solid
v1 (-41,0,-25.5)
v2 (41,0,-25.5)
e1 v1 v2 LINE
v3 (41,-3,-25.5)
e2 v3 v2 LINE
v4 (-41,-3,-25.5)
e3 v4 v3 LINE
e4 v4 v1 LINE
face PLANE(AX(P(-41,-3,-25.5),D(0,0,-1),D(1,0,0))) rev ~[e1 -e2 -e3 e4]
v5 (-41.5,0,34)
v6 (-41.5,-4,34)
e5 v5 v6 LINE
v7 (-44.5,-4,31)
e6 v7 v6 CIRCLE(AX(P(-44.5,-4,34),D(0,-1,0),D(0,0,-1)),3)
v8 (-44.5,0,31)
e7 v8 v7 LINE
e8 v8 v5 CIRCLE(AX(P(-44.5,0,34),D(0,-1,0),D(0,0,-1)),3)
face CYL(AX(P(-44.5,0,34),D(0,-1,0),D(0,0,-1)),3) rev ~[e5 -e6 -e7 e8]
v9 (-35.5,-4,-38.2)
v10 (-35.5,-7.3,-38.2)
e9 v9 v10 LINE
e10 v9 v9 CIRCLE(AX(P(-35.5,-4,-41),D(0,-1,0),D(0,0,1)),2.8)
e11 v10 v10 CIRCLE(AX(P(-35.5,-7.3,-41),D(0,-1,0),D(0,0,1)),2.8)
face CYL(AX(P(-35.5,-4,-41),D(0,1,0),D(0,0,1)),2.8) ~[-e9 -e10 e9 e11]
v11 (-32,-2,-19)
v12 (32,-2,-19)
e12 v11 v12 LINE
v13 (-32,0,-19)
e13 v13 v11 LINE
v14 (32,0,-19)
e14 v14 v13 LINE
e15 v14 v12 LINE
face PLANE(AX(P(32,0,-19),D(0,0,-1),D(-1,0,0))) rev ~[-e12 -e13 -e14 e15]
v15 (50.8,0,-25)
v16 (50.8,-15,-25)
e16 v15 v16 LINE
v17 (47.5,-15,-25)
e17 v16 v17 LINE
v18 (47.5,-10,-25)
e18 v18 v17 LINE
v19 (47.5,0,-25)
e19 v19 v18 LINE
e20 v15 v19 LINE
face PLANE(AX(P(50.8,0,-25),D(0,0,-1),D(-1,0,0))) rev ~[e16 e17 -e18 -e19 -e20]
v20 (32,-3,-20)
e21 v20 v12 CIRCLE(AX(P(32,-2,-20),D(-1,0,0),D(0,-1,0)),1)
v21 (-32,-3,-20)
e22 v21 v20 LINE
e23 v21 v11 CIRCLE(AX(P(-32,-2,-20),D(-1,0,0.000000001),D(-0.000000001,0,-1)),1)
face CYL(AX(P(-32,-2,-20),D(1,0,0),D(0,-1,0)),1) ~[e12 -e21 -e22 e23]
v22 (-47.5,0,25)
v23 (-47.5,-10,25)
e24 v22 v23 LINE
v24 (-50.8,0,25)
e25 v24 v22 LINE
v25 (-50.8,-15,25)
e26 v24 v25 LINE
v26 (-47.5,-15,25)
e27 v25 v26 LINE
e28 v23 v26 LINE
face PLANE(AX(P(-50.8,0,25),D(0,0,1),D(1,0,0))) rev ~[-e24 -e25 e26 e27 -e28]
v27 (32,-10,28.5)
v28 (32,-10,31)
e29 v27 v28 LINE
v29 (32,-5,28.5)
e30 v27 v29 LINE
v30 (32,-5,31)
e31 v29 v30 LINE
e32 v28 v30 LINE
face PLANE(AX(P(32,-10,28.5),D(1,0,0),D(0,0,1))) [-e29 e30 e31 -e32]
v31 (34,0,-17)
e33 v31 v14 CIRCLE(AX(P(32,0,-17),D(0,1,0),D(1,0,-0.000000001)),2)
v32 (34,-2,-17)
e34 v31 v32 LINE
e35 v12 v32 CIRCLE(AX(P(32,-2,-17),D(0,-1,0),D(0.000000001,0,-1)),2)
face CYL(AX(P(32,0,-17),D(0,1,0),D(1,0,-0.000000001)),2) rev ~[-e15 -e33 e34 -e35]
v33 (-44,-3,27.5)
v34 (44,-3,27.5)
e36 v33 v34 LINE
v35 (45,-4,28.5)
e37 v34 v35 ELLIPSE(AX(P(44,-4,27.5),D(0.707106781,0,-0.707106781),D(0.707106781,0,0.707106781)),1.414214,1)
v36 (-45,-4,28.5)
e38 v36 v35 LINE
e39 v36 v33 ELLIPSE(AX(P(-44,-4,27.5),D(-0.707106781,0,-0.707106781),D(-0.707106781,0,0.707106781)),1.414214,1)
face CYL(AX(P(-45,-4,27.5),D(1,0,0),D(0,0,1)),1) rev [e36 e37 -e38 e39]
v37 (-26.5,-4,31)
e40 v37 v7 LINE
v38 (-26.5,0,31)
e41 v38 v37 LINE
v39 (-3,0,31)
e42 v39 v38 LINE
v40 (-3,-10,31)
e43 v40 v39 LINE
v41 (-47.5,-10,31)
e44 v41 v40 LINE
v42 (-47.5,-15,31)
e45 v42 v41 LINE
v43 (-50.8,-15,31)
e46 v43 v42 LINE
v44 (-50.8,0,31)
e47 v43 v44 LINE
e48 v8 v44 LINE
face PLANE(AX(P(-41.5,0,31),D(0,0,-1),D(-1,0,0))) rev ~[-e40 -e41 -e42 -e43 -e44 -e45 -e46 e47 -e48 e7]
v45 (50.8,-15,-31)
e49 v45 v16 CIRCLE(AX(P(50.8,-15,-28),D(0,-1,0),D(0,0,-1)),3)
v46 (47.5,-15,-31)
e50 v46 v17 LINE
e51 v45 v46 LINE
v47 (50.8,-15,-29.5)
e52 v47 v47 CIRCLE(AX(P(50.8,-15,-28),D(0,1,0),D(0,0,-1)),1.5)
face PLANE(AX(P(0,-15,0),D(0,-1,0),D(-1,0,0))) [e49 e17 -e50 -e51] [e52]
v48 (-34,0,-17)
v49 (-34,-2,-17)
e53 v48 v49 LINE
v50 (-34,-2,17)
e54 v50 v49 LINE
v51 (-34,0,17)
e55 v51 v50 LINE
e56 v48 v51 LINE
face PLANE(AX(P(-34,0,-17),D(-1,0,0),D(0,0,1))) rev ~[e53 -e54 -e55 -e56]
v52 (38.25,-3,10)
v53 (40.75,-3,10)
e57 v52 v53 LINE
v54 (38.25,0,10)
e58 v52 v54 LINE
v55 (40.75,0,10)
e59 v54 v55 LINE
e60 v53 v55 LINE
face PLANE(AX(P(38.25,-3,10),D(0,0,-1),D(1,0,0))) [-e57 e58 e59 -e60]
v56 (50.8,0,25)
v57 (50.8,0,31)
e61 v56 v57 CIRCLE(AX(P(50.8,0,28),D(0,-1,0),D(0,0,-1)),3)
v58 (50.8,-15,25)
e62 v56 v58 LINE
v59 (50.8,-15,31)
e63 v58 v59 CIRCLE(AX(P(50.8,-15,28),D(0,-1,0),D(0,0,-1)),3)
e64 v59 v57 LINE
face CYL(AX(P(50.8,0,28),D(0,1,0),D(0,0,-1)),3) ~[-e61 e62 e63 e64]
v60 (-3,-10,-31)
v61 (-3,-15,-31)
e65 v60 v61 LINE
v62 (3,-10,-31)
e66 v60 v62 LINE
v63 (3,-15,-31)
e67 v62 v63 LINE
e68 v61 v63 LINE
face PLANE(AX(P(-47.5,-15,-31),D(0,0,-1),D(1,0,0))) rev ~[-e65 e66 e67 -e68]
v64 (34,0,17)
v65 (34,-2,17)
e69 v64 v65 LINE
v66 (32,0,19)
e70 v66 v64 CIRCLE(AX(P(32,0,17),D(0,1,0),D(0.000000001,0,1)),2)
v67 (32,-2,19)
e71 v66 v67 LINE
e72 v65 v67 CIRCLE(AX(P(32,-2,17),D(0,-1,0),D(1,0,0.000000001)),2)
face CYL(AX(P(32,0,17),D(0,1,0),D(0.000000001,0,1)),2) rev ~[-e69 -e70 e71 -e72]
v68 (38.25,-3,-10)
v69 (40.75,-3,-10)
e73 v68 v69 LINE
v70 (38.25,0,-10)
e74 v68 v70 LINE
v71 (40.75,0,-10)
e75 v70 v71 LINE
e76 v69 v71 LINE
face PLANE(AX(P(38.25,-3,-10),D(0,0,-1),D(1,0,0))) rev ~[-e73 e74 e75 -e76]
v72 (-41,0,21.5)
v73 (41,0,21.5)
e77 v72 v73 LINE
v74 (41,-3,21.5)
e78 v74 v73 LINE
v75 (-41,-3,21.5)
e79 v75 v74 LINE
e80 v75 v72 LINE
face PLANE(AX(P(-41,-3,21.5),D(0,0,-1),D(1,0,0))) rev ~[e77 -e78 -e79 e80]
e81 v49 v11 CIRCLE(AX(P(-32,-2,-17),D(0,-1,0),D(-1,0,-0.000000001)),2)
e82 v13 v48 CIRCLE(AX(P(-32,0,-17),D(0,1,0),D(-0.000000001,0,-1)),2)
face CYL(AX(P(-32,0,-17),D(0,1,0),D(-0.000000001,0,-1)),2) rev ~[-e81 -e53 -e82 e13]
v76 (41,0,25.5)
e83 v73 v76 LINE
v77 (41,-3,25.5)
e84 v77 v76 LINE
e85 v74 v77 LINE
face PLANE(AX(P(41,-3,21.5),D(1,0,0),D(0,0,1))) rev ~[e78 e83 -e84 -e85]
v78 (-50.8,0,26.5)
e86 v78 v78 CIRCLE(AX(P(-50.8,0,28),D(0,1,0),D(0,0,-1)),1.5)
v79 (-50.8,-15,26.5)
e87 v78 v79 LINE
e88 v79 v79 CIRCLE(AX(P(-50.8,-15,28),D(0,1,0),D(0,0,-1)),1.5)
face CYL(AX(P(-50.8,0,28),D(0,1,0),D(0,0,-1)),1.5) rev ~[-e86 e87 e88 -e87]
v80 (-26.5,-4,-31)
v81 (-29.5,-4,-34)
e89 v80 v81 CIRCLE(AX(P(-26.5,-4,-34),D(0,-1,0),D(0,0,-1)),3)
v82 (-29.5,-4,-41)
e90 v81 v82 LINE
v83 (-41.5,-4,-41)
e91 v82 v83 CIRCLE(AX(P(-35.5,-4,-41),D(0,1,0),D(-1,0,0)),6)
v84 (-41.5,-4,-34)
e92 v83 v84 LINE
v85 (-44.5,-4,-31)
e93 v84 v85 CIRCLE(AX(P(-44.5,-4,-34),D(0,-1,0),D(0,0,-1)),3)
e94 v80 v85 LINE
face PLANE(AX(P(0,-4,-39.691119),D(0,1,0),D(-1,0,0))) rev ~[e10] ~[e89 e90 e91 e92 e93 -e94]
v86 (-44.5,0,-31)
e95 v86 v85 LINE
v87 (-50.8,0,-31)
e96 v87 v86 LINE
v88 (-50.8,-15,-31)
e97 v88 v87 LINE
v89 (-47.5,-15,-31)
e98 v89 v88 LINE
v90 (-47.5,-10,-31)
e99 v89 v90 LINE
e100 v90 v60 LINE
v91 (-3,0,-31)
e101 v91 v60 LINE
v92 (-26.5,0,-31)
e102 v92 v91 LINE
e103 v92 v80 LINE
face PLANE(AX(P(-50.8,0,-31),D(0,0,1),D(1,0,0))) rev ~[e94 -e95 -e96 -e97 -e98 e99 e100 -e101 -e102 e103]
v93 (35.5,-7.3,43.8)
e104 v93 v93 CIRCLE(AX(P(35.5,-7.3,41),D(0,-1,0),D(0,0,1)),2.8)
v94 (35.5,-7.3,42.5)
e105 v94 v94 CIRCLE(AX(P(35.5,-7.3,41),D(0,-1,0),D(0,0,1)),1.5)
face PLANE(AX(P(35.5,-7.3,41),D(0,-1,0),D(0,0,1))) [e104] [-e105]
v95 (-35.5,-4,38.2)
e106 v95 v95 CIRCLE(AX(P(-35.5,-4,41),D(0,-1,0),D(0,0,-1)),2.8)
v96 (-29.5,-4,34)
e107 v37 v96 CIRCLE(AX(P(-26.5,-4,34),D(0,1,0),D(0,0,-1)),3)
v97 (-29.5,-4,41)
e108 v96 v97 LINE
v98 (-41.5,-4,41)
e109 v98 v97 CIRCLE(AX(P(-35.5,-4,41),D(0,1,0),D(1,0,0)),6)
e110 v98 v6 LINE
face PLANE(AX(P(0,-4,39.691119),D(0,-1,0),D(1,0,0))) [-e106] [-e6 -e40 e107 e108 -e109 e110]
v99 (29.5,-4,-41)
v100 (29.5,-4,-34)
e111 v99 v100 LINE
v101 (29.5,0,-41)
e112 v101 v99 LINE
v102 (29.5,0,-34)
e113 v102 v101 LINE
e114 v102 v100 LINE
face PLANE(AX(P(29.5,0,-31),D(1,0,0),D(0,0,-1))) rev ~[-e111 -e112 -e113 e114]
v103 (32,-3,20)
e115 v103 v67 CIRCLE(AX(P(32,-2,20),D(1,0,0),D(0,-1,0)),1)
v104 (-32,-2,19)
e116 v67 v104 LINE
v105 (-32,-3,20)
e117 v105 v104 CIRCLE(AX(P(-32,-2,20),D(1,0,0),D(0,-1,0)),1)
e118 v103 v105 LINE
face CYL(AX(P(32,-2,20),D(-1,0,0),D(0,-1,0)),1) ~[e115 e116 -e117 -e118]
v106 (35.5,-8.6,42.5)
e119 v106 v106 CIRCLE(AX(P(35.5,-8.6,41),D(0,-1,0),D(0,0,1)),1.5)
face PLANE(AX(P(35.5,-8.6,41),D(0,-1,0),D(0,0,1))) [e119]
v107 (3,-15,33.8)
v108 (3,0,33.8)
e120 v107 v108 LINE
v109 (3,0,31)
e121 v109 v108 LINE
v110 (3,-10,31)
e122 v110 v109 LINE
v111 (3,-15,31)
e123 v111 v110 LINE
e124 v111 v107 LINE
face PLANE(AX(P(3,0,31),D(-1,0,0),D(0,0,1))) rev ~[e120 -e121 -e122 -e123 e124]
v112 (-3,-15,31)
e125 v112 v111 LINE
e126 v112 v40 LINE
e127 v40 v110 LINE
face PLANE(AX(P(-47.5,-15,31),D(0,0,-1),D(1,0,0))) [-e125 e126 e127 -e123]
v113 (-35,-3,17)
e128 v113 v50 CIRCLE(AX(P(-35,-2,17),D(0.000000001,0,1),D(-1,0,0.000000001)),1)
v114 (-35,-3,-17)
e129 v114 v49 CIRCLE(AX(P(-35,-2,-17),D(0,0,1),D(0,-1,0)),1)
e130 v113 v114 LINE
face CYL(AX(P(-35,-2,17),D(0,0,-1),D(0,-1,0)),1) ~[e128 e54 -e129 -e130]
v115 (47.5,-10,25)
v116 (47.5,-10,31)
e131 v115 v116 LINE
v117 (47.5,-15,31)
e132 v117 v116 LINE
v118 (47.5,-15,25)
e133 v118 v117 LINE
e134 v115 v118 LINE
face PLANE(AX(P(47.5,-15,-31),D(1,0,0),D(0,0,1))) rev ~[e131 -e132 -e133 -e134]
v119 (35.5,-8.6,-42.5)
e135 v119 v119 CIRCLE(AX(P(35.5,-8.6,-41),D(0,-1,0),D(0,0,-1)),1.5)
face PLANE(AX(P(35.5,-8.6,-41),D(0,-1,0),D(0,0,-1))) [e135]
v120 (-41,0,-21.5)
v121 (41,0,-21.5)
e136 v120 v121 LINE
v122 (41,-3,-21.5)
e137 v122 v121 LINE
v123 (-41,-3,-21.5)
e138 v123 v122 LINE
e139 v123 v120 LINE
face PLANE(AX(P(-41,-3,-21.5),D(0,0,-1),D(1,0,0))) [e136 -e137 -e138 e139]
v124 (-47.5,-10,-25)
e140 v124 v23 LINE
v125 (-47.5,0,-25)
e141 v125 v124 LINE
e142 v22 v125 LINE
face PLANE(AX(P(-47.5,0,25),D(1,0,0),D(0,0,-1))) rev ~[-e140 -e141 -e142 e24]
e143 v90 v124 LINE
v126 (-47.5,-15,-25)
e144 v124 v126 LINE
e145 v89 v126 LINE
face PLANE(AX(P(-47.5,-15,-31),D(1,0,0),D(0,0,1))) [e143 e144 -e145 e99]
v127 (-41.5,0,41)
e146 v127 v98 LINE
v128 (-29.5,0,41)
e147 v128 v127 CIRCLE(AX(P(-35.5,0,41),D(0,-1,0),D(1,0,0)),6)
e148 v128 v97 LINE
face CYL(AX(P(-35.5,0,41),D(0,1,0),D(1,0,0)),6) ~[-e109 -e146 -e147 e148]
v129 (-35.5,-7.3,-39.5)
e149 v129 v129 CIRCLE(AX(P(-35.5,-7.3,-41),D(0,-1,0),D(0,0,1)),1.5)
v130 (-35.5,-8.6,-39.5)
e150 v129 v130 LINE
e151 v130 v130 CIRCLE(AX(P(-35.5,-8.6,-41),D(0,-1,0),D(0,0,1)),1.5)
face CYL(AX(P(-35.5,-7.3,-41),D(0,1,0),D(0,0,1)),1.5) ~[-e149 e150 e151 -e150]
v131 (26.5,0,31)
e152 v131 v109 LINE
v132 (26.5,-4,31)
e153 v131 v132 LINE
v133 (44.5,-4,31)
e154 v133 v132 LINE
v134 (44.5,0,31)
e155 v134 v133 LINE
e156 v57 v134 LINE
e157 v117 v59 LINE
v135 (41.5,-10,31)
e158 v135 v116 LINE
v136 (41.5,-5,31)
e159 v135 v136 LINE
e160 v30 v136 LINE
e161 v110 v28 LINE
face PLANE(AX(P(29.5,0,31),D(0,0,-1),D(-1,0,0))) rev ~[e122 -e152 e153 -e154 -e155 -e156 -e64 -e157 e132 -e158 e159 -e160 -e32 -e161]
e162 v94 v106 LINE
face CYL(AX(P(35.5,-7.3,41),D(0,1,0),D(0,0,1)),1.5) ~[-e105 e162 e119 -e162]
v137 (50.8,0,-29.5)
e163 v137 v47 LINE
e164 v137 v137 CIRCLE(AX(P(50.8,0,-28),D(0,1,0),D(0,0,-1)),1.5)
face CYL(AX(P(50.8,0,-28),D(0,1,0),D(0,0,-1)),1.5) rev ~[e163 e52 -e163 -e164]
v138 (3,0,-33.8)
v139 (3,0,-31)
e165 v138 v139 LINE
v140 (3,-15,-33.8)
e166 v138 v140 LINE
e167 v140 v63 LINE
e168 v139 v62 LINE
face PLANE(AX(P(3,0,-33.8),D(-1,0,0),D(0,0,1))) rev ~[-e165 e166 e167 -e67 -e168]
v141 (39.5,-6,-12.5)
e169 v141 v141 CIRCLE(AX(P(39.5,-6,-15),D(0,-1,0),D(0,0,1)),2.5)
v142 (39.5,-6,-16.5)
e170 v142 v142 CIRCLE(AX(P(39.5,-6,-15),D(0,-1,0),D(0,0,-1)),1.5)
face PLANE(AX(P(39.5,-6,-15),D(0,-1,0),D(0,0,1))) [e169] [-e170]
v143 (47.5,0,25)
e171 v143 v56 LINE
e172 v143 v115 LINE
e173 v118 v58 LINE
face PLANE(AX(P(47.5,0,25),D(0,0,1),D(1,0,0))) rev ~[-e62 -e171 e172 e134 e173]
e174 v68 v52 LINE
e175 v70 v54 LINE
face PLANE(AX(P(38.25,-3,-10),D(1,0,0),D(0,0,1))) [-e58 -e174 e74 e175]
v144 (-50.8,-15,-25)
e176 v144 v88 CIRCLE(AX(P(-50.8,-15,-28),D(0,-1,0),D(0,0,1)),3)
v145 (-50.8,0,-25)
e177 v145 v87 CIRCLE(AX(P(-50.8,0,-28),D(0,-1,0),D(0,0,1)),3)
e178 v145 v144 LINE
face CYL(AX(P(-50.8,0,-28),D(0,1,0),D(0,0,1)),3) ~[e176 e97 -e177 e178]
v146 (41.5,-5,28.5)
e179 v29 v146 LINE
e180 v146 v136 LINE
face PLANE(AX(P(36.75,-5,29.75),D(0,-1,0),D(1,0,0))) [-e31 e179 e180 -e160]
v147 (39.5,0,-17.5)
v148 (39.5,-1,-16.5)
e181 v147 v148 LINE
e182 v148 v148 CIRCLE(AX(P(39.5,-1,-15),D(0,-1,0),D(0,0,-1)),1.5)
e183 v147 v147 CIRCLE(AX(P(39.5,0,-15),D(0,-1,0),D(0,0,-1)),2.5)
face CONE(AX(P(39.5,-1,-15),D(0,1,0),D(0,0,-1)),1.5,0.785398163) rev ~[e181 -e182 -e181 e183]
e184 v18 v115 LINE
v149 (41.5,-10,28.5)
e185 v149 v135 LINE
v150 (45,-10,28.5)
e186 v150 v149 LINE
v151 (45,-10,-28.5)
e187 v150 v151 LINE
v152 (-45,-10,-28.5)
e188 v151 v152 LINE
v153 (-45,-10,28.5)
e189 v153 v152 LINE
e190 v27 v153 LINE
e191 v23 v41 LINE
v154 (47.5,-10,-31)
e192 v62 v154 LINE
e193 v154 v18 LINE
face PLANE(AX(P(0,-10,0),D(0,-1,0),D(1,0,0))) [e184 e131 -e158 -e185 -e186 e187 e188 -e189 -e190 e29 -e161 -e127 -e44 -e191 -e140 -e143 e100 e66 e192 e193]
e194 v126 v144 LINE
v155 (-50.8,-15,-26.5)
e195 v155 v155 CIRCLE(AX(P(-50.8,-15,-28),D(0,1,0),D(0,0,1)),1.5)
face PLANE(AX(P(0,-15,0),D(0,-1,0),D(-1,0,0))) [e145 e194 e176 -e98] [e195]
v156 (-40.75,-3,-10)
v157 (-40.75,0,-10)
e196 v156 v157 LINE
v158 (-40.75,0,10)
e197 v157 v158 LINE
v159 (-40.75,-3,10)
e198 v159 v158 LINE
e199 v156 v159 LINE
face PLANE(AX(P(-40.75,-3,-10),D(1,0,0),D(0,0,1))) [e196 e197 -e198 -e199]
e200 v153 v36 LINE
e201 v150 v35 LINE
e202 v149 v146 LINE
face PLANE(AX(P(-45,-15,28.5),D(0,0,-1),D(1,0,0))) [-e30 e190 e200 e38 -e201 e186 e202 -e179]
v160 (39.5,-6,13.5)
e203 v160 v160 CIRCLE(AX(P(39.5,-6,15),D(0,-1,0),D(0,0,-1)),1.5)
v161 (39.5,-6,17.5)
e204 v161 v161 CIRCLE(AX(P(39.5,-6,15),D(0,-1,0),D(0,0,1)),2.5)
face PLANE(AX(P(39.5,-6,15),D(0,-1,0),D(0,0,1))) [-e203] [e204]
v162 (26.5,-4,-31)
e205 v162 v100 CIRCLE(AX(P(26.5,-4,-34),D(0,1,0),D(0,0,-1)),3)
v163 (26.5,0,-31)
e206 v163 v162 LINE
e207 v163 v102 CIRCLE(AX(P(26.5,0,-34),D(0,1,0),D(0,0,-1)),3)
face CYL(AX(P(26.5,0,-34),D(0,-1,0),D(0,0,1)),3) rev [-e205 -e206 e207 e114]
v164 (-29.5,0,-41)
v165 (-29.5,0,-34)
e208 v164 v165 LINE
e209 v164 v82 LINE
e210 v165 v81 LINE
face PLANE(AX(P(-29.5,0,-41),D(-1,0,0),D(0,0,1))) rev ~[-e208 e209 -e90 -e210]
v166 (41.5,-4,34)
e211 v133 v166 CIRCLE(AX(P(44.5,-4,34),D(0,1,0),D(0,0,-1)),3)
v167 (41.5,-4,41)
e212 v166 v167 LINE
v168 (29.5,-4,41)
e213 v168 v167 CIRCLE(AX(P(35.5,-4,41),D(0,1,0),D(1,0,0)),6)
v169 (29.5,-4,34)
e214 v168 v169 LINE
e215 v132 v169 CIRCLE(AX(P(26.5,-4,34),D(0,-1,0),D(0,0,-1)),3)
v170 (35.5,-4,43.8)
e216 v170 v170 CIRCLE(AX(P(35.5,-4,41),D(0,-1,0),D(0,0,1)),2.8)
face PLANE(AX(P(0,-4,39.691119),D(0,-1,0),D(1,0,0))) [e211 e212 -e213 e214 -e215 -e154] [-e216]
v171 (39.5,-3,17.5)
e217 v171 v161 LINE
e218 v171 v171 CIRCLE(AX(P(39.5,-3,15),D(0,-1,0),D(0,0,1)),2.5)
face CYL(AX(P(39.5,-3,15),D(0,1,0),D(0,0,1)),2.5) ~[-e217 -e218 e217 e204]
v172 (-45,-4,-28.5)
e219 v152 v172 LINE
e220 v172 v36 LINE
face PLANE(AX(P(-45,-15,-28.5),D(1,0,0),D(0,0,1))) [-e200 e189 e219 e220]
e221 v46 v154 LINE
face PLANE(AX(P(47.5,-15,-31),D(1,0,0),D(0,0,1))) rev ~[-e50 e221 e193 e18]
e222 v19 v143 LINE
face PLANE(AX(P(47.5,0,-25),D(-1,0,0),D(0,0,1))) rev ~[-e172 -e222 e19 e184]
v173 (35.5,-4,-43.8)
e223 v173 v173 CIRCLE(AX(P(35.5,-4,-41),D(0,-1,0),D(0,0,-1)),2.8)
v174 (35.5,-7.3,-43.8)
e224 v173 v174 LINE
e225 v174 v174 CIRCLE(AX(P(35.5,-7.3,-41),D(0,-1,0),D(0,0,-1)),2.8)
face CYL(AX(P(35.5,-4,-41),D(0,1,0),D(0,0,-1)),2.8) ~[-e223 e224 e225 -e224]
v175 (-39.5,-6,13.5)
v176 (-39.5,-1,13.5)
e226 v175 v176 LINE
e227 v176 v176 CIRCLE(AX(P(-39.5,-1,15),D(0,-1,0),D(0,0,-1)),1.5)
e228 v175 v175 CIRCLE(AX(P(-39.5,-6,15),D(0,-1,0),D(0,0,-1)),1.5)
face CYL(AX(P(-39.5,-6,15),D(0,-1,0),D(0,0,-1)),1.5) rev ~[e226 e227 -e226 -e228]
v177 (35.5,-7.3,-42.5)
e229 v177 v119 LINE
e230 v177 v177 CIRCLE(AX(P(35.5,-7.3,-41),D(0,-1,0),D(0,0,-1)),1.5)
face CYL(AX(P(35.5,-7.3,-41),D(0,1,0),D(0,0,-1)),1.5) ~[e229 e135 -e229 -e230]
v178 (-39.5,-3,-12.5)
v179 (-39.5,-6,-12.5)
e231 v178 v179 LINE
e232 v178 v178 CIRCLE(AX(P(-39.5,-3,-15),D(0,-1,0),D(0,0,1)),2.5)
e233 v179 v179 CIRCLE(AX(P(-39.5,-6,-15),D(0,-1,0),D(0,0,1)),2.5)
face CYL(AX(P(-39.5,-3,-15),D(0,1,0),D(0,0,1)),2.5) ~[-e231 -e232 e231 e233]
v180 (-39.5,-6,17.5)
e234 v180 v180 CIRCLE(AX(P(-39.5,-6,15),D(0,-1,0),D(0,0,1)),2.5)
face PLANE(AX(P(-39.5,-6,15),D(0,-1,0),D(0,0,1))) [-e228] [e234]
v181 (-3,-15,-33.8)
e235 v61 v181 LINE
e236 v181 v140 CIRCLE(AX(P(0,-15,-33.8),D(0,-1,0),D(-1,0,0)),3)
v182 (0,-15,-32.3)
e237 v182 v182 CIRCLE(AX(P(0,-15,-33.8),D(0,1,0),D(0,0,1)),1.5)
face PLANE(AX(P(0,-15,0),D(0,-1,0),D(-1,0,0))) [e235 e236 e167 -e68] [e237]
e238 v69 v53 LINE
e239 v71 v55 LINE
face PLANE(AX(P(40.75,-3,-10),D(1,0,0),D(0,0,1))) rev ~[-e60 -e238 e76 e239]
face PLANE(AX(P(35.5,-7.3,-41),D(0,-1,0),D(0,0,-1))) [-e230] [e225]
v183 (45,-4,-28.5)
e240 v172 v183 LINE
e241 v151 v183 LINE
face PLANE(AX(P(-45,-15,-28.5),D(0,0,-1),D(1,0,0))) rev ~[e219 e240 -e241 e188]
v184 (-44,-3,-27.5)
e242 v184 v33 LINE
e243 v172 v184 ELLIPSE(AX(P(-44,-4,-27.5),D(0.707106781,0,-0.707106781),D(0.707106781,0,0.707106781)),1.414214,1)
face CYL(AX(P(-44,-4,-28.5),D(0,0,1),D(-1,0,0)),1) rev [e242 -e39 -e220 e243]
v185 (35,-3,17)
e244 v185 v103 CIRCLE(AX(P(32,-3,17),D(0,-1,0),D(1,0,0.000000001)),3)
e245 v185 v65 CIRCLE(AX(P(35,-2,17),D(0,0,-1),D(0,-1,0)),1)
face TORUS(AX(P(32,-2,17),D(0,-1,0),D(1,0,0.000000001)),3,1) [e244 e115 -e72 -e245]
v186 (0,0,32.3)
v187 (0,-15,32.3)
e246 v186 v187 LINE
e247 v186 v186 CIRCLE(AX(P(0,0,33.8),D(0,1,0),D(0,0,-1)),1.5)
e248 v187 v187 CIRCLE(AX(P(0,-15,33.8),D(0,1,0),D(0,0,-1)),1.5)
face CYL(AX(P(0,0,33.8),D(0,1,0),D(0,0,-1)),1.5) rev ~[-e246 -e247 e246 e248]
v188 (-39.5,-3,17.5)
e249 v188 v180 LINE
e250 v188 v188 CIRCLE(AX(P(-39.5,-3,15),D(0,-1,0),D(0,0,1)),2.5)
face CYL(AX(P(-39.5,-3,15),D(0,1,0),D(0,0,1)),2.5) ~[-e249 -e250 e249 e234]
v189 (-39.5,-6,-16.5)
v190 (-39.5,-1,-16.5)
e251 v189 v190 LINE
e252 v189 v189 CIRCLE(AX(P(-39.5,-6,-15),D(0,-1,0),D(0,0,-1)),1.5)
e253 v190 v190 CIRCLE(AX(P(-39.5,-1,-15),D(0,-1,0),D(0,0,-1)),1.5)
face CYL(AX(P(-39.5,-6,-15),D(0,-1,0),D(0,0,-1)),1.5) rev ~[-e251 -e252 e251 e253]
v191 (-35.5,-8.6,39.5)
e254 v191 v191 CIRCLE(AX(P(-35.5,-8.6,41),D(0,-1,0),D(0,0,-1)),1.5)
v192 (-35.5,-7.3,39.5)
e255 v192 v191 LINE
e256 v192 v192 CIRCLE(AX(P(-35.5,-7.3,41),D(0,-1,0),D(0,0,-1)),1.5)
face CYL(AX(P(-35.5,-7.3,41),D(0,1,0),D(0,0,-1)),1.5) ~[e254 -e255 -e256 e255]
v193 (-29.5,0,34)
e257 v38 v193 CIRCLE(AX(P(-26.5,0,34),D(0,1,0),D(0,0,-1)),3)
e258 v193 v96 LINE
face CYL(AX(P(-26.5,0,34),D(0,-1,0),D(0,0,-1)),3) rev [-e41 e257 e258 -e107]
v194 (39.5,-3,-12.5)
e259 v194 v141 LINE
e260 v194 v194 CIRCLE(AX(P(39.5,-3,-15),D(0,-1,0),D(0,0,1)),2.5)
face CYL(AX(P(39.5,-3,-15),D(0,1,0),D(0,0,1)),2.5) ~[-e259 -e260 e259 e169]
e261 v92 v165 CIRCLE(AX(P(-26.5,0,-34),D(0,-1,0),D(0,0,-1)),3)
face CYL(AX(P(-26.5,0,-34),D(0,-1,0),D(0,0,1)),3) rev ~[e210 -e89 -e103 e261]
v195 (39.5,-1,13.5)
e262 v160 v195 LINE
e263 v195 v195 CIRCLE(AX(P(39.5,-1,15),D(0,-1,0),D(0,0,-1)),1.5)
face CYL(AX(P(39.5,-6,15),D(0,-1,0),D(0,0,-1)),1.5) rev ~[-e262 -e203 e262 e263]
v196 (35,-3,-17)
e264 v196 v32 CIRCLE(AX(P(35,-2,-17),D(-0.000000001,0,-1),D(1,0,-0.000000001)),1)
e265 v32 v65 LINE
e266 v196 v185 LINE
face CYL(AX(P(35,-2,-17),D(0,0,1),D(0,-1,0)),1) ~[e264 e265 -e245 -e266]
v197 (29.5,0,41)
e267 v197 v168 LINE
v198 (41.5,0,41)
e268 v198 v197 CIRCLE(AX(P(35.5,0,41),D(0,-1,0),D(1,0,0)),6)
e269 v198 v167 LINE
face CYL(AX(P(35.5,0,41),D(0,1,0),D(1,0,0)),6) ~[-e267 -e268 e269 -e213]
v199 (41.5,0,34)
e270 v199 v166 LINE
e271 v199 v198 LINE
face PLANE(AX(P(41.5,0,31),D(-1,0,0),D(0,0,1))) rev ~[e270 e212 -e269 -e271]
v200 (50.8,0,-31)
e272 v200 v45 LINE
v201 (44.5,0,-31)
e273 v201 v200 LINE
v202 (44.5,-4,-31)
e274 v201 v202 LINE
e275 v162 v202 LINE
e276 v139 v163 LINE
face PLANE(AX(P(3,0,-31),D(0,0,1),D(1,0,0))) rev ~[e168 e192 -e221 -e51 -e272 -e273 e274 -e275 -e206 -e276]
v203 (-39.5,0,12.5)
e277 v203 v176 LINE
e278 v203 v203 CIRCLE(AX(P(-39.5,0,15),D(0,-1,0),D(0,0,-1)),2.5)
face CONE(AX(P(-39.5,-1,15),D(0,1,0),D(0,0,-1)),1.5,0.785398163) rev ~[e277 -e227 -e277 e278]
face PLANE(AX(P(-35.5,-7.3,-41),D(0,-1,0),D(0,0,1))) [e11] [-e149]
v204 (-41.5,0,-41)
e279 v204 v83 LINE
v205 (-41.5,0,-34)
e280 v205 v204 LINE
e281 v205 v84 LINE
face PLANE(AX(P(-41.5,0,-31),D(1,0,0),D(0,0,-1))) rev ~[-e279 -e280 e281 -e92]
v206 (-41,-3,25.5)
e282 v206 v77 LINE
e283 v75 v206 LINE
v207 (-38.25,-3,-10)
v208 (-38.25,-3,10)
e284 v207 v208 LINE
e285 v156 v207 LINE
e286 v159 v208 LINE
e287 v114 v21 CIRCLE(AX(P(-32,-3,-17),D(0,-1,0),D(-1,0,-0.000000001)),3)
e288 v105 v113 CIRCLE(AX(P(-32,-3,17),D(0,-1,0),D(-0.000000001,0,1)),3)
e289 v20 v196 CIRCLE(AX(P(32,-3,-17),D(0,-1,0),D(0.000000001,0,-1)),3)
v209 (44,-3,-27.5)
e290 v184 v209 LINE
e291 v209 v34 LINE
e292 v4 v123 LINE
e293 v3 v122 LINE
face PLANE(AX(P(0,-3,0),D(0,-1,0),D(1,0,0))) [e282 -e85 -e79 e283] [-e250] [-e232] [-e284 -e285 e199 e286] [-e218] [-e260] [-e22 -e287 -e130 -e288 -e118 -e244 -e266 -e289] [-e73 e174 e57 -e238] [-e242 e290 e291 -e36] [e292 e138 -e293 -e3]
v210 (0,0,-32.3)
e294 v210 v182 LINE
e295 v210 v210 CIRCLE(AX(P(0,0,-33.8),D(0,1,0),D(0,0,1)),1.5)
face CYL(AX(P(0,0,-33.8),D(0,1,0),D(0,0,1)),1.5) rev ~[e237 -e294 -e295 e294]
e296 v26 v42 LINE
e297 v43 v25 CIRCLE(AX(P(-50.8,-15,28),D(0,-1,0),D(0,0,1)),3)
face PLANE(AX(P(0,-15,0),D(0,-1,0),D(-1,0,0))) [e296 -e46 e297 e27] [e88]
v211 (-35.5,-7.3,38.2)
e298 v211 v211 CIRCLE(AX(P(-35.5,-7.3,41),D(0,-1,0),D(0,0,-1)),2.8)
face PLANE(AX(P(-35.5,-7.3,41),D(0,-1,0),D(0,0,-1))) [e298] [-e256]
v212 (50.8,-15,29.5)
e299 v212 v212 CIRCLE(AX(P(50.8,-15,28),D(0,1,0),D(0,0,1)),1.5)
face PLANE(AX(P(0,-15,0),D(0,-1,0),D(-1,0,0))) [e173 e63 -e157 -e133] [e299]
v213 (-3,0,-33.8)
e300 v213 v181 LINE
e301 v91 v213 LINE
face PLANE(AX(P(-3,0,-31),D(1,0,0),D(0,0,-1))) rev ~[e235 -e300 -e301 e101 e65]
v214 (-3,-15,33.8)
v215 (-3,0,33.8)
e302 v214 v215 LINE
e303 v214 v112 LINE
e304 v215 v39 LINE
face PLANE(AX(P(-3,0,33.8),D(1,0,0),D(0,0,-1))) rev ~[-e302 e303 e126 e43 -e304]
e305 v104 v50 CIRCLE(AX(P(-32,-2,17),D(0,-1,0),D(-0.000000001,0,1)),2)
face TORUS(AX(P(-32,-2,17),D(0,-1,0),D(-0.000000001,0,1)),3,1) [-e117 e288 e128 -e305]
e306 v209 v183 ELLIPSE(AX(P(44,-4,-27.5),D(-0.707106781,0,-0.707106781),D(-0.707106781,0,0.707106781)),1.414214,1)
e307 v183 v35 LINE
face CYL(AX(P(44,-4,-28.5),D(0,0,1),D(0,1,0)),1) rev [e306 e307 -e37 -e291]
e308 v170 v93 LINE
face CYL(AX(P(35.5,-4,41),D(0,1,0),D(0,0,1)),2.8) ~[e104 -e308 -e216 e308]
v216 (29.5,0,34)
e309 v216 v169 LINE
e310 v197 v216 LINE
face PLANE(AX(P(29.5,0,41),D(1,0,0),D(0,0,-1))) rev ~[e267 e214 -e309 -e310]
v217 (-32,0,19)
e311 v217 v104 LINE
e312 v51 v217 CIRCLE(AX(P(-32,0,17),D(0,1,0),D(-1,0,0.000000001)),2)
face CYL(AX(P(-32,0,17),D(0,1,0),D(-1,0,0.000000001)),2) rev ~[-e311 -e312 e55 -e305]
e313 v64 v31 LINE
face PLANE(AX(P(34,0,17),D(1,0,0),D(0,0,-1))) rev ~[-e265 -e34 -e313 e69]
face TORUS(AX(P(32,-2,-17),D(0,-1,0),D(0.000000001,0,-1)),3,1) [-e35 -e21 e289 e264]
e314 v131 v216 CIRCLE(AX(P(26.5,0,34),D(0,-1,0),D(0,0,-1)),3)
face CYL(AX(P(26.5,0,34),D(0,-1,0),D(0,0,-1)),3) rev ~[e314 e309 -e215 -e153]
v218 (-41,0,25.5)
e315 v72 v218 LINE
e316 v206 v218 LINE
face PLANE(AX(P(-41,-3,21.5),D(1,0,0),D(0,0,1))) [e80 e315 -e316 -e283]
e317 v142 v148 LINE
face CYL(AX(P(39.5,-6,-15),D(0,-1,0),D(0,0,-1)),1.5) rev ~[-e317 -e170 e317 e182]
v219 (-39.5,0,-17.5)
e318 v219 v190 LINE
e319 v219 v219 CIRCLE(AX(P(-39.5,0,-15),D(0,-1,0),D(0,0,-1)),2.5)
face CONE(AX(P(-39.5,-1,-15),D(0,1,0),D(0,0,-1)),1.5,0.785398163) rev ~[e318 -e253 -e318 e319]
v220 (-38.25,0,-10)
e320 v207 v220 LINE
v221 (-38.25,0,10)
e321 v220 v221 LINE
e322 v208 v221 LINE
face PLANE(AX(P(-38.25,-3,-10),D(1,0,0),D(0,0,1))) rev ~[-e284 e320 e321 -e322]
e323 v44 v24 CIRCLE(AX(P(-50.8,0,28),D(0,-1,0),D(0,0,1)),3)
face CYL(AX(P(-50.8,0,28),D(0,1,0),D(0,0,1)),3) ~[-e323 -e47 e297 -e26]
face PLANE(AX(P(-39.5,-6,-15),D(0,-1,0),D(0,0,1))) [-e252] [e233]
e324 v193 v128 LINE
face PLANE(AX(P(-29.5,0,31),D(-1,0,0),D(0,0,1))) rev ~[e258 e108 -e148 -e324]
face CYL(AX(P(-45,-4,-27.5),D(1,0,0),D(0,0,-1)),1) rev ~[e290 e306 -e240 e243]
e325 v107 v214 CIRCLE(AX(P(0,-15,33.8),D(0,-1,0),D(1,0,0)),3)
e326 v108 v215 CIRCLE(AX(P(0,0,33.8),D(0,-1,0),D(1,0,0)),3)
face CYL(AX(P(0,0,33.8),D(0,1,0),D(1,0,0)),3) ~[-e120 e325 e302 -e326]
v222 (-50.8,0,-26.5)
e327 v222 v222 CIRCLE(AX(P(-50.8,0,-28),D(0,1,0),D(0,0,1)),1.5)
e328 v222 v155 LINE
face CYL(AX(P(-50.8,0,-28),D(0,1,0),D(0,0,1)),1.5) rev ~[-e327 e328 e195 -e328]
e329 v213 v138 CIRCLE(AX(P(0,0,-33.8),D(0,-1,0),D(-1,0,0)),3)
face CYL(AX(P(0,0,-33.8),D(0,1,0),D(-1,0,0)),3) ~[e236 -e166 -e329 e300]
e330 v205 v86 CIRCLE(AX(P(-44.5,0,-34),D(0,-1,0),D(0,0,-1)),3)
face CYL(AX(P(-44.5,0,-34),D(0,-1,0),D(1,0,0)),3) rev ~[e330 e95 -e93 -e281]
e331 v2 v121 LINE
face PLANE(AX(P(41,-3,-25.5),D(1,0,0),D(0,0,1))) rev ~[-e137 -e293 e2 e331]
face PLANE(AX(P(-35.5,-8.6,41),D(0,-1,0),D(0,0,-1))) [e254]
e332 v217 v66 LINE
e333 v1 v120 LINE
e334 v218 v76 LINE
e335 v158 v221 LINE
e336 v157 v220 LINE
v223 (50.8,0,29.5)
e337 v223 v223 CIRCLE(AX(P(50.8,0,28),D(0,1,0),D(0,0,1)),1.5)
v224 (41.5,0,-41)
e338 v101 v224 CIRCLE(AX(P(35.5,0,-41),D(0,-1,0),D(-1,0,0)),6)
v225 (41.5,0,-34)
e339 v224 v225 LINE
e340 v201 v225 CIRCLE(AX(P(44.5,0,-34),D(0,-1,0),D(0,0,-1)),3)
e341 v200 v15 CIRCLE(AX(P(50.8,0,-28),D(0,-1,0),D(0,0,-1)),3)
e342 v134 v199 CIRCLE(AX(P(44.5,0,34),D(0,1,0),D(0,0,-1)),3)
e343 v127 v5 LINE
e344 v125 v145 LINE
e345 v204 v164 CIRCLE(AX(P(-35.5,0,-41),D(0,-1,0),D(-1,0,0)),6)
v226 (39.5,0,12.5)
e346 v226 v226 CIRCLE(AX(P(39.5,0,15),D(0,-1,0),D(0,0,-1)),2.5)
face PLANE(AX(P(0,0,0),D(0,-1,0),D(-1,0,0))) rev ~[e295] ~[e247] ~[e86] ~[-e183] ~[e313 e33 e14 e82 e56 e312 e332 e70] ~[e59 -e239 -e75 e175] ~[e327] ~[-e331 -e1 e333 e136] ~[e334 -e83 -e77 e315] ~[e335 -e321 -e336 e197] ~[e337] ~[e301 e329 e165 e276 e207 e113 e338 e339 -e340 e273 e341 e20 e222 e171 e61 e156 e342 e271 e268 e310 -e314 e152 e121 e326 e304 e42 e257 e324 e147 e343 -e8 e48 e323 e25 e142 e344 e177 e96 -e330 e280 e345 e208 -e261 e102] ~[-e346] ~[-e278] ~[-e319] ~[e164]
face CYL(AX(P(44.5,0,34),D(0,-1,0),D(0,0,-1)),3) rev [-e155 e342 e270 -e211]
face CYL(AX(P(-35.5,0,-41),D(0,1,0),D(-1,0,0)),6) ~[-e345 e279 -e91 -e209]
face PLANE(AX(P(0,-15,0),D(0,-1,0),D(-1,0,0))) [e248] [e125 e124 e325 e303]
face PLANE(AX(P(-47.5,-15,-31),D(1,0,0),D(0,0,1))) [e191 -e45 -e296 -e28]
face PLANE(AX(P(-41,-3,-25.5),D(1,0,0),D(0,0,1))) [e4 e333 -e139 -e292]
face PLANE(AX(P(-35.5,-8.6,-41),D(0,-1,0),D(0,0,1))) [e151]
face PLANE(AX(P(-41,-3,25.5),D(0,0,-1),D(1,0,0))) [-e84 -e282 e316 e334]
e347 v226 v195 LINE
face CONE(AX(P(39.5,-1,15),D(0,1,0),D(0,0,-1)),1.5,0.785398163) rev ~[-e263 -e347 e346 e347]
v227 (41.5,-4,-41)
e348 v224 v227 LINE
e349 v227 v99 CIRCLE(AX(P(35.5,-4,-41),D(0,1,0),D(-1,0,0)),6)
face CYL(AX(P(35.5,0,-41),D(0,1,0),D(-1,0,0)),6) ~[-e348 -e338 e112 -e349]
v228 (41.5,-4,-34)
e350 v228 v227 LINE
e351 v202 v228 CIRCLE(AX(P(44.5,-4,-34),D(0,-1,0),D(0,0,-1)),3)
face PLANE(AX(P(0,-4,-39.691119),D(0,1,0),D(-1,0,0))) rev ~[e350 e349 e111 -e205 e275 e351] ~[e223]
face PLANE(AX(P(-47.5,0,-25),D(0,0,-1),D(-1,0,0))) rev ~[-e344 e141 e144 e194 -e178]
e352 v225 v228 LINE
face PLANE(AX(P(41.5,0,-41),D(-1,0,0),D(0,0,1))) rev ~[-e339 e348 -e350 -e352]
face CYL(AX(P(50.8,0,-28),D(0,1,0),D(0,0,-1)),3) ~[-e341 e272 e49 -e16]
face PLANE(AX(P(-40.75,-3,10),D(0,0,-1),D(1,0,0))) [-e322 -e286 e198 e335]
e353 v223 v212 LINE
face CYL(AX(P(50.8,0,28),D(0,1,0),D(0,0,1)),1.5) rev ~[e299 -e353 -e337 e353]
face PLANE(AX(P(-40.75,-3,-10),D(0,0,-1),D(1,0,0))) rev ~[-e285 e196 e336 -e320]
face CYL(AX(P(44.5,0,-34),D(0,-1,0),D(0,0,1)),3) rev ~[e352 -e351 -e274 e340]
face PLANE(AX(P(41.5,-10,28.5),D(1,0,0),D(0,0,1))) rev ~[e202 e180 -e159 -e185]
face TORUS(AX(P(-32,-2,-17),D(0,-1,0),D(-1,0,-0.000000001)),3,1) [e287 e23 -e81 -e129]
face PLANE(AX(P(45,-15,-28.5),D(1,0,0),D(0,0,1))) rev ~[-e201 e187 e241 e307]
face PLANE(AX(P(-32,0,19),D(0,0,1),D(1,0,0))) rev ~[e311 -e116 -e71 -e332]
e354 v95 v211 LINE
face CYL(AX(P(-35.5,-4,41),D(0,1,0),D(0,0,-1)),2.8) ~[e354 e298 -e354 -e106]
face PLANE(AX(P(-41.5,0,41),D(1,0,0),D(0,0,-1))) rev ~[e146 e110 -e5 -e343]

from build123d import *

# Parameters (mm, degrees)
SKETCH_1_R          = 1.5
EXTRUDE_1_DEPTH     = 15
CUT_EXTRUDE_START   = -11
CUT_EXTRUDE_1_DEPTH = 11
SKETCH_3_W          = 90
SKETCH_3_H          = 57
CUT_EXTRUDE_2_DEPTH = 12
SKETCH_4_R          = 2.8
EXTRUDE_2_DEPTH     = 3.3
EXTRUDE_2_2_DEPTH   = 3.3
EXTRUDE_2_3_DEPTH   = 3.3
EXTRUDE_2_4_DEPTH   = 3.3
SKETCH_5_R          = 1.5
EXTRUDE_3_DEPTH     = 1.3
EXTRUDE_3_2_DEPTH   = 1.3
EXTRUDE_3_3_DEPTH   = 1.3
EXTRUDE_3_4_DEPTH   = 1.3
SKETCH_6_W          = 95
SKETCH_6_H          = 62
CUT_EXTRUDE_3_DEPTH = 5
SKETCH_9_W          = 9.5
SKETCH_9_H          = 2.5
CUT_EXTRUDE_4_DEPTH = 5
CUT_EXTRUDE_5_DEPTH = 73.996164283
FILLET_1_R          = 3
FILLET_3_R          = 1
SKETCH_12_R         = 2.5
EXTRUDE_5_DEPTH     = 3
SKETCH_13_R         = 1.5
CUT_EXTRUDE_6_DEPTH = 73.003055491
CHAMFER_1_SIZE      = 1
SKETCH_15_W         = 82
SKETCH_15_H         = 4
SKETCH_15_W_2       = 2.5
SKETCH_15_H_2       = 20
CUT_EXTRUDE_8_DEPTH = 73.439215899


with BuildPart() as part:
    # 草图1 → 凸台-拉伸1 (new body)
    with BuildSketch(Plane(origin=(0, 0, 0), x_dir=(1, 0, 0), z_dir=(0, 1, 0))):
        with BuildLine():
            Line((-47.5, 31), (-41.5, 31))
            Line((-41.5, 31), (-41.5, 41))
            ThreePointArc((-41.5, 41), (-35.5, 47), (-29.5, 41))
            Line((-29.5, 41), (-29.5, 31))
            Line((-29.5, 31), (-3, 31))
            Line((-3, 31), (-3, 33.8))
            ThreePointArc((-3, 33.8), (0, 36.8), (3, 33.8))
            Line((3, 33.8), (3, 31))
            Line((3, 31), (29.5, 31))
            Line((29.5, 31), (29.5, 41))
            ThreePointArc((29.5, 41), (35.5, 47), (41.5, 41))
            Line((41.5, 41), (41.5, 31))
            Line((41.5, 31), (47.5, 31))
            Line((47.5, 31), (50.8, 31))
            ThreePointArc((50.8, 31), (53.8, 28), (50.8, 25))
            Line((50.8, 25), (47.5, 25))
            Line((47.5, 25), (47.5, -25))
            Line((47.5, -25), (50.8, -25))
            ThreePointArc((50.8, -25), (53.8, -28), (50.8, -31))
            Line((50.8, -31), (47.5, -31))
            Line((47.5, -31), (41.5, -31))
            Line((41.5, -31), (41.5, -41))
            ThreePointArc((41.5, -41), (35.5, -47), (29.5, -41))
            Line((29.5, -41), (29.5, -31))
            Line((29.5, -31), (3, -31))
            Line((3, -31), (3, -33.8))
            ThreePointArc((3, -33.8), (0, -36.8), (-3, -33.8))
            Line((-3, -33.8), (-3, -31))
            Line((-3, -31), (-29.5, -31))
            Line((-29.5, -31), (-29.5, -41))
            ThreePointArc((-29.5, -41), (-35.5, -47), (-41.5, -41))
            Line((-41.5, -41), (-41.5, -31))
            Line((-41.5, -31), (-47.5, -31))
            Line((-47.5, -31), (-50.8, -31))
            ThreePointArc((-50.8, -31), (-53.8, -28), (-50.8, -25))
            Line((-50.8, -25), (-47.5, -25))
            Line((-47.5, -25), (-47.5, 25))
            Line((-47.5, 25), (-50.8, 25))
            ThreePointArc((-50.8, 25), (-53.8, 28), (-50.8, 31))
            Line((-50.8, 31), (-47.5, 31))
        make_face()
        with Locations(Location((-50.8, 28, 0), (0, 0, 270))):
            Circle(SKETCH_1_R, mode=Mode.SUBTRACT)
        with Locations(Location((50.8, 28, 0), (0, 0, 90))):
            Circle(SKETCH_1_R, mode=Mode.SUBTRACT)
        with Locations(Location((50.8, -28, 0), (0, 0, 270))):
            Circle(SKETCH_1_R, mode=Mode.SUBTRACT)
        with Locations(Location((-50.8, -28, 0), (0, 0, 90))):
            Circle(SKETCH_1_R, mode=Mode.SUBTRACT)
        with Locations(Location((0, 33.8, 0), (0, 0, 270))):
            Circle(SKETCH_1_R, mode=Mode.SUBTRACT)
        with Locations(Location((0, -33.8, 0), (0, 0, 90))):
            Circle(SKETCH_1_R, mode=Mode.SUBTRACT)
    extrude(amount=-EXTRUDE_1_DEPTH)

    # 草图2 → 切除-拉伸1 (cut)
    with BuildSketch(Plane.XZ.offset(15).offset(CUT_EXTRUDE_START)):
        with BuildLine():
            Line((-57.023911512, 31), (-3, 31))
            Line((-3, 31), (-3, 33.8))
            ThreePointArc((-3, 33.8), (0, 36.8), (3, 33.8))
            Line((3, 33.8), (3, 31))
            Line((3, 31), (57.023911512, 31))
            Line((57.023911512, 31), (57.023911512, 48.5806389))
            Line((57.023911512, 48.5806389), (-57.023911512, 48.5806389))
            Line((-57.023911512, 48.5806389), (-57.023911512, 31))
        make_face()
        with BuildLine():
            Line((3, -33.8), (3, -31))
            Line((3, -31), (57.023911512, -31))
            Line((57.023911512, -31), (57.023911512, -48.5806389))
            Line((57.023911512, -48.5806389), (-57.023911512, -48.5806389))
            Line((-57.023911512, -48.5806389), (-57.023911512, -31))
            Line((-57.023911512, -31), (-3, -31))
            Line((-3, -31), (-3, -33.8))
            ThreePointArc((-3, -33.8), (0, -36.8), (3, -33.8))
        make_face()
    extrude(amount=CUT_EXTRUDE_1_DEPTH, mode=Mode.SUBTRACT)

    # 草图3 → 切除-拉伸2 (cut)
    with BuildSketch(Plane.XZ.offset(15)):
        Rectangle(SKETCH_3_W, SKETCH_3_H)
    extrude(amount=-CUT_EXTRUDE_2_DEPTH, mode=Mode.SUBTRACT)

    # 草图6 → 切除-拉伸3 (cut)
    with BuildSketch(Plane.XZ.offset(15)):
        Rectangle(SKETCH_6_W, SKETCH_6_H)
    extrude(amount=-CUT_EXTRUDE_3_DEPTH, mode=Mode.SUBTRACT)

    # 草图9 → 切除-拉伸4 (cut)
    with BuildSketch(Plane.XZ.offset(10)):
        with Locations((36.75, 29.75)):
            Rectangle(SKETCH_9_W, SKETCH_9_H)
    extrude(amount=-CUT_EXTRUDE_4_DEPTH, mode=Mode.SUBTRACT)

    # 草图10 → 切除-拉伸5 (cut, through all)
    with BuildSketch(Plane(origin=(0, 0, 0), x_dir=(1, 0, 0), z_dir=(0, 1, 0))):
        with BuildLine():
            Line((-32, -19), (32, -19))
            ThreePointArc((32, -19), (33.414213562, -18.414213562), (34, -17))
            Line((34, -17), (34, 17))
            ThreePointArc((34, 17), (33.414213562, 18.414213562), (32, 19))
            Line((32, 19), (-32, 19))
            ThreePointArc((-32, 19), (-33.414213562, 18.414213562), (-34, 17))
            Line((-34, 17), (-34, -17))
            ThreePointArc((-34, -17), (-33.414213562, -18.414213562), (-32, -19))
        make_face()
    extrude(amount=-CUT_EXTRUDE_5_DEPTH, mode=Mode.SUBTRACT)

    # 圆角1
    fillet_1_edges = [part.edges().sort_by_distance(p)[0] for p in [
        (41.5, -2, -31),
        (29.5, -2, -31),
        (-29.5, -2, -31),
        (-41.5, -2, -31),
        (-41.5, -2, 31),
        (-29.5, -2, 31),
        (29.5, -2, 31),
        (41.5, -2, 31),
    ]]
    fillet(fillet_1_edges, radius=FILLET_1_R)

    # 圆角3
    fillet_3_edges = [part.edges().sort_by_distance(p)[0] for p in [
        (45, -3, 0),
        (0, -3, -28.5),
        (-45, -3, 0),
        (0, -3, 28.5),
        (0, -3, 19),
        (33.414213562, -3, 18.414213562),
        (34, -3, 0),
        (33.414213562, -3, -18.414213562),
        (0, -3, -19),
        (-33.414213562, -3, -18.414213562),
        (-34, -3, 0),
        (-33.414213562, -3, 18.414213562),
    ]]
    fillet(fillet_3_edges, radius=FILLET_3_R)


with BuildPart() as body_2:
    # 草图4 → 凸台-拉伸2 (new body)
    with BuildSketch(Plane.XZ.offset(4)):
        with Locations(Location((-35.5, 41, 0), (0, 0, 270))):
            Circle(SKETCH_4_R)
    extrude(amount=EXTRUDE_2_DEPTH)


with BuildPart() as body_3:
    # 草图4 → Extrude 2 2 (new body)
    with BuildSketch(Plane.XZ.offset(4)):
        with Locations(Location((35.5, 41, 0), (0, 0, 90))):
            Circle(SKETCH_4_R)
    extrude(amount=EXTRUDE_2_2_DEPTH)


with BuildPart() as body_4:
    # 草图4 → Extrude 2 3 (new body)
    with BuildSketch(Plane.XZ.offset(4)):
        with Locations(Location((35.5, -41, 0), (0, 0, 270))):
            Circle(SKETCH_4_R)
    extrude(amount=EXTRUDE_2_3_DEPTH)


with BuildPart() as body_5:
    # 草图4 → Extrude 2 4 (new body)
    with BuildSketch(Plane.XZ.offset(4)):
        with Locations(Location((-35.5, -41, 0), (0, 0, 90))):
            Circle(SKETCH_4_R)
    extrude(amount=EXTRUDE_2_4_DEPTH)


with BuildPart() as body_6:
    # 草图5 → 凸台-拉伸3 (new body)
    with BuildSketch(Plane.XZ.offset(7.3)):
        with Locations(Location((-35.5, 41, 0), (0, 0, 270))):
            Circle(SKETCH_5_R)
    extrude(amount=EXTRUDE_3_DEPTH)


with BuildPart() as body_7:
    # 草图5 → Extrude 3 2 (new body)
    with BuildSketch(Plane.XZ.offset(7.3)):
        with Locations(Location((35.5, 41, 0), (0, 0, 90))):
            Circle(SKETCH_5_R)
    extrude(amount=EXTRUDE_3_2_DEPTH)


with BuildPart() as body_8:
    # 草图5 → Extrude 3 3 (new body)
    with BuildSketch(Plane.XZ.offset(7.3)):
        with Locations(Location((35.5, -41, 0), (0, 0, 270))):
            Circle(SKETCH_5_R)
    extrude(amount=EXTRUDE_3_3_DEPTH)


with BuildPart() as body_9:
    # 草图5 → Extrude 3 4 (new body)
    with BuildSketch(Plane.XZ.offset(7.3)):
        with Locations(Location((-35.5, -41, 0), (0, 0, 90))):
            Circle(SKETCH_5_R)
    extrude(amount=EXTRUDE_3_4_DEPTH)


with BuildPart() as body_4_1:
    add(body_4.part)

    # Combine 1: union part, body 8, body 2, body 5, body 6, body 9, body 3, body 7
    add(part.part)
    add(body_8.part)
    add(body_2.part)
    add(body_5.part)
    add(body_6.part)
    add(body_9.part)
    add(body_3.part)
    add(body_7.part)

    # 草图12 → 凸台-拉伸5 (add)
    with BuildSketch(Plane.XZ.offset(3)):
        with Locations(Location((-39.5, 15, 0), (0, 0, 90))):
            Circle(SKETCH_12_R)
        with Locations(Location((-39.5, -15, 0), (0, 0, 90))):
            Circle(SKETCH_12_R)
        with Locations(Location((39.5, -15, 0), (0, 0, 90))):
            Circle(SKETCH_12_R)
        with Locations(Location((39.5, 15, 0), (0, 0, 90))):
            Circle(SKETCH_12_R)
    extrude(amount=EXTRUDE_5_DEPTH)

    # 草图13 → 切除-拉伸6 (cut, through all)
    with BuildSketch(Plane.XZ.offset(6)):
        with Locations(Location((39.5, -15, 0), (0, 0, 270))):
            Circle(SKETCH_13_R)
        with Locations(Location((39.5, 15, 0), (0, 0, 270))):
            Circle(SKETCH_13_R)
        with Locations(Location((-39.5, -15, 0), (0, 0, 270))):
            Circle(SKETCH_13_R)
        with Locations(Location((-39.5, 15, 0), (0, 0, 270))):
            Circle(SKETCH_13_R)
    extrude(amount=-CUT_EXTRUDE_6_DEPTH, mode=Mode.SUBTRACT)

    # 倒角1
    chamfer_1_edges = [body_4_1.edges().sort_by_distance(p)[0] for p in [
        (39.5, 0, 16.5),
        (-39.5, 0, -13.5),
        (-39.5, 0, 16.5),
        (39.5, 0, -13.5),
    ]]
    chamfer(chamfer_1_edges, length=CHAMFER_1_SIZE)

    # 草图15 → 切除-拉伸8 (cut, through all)
    with BuildSketch(Plane.XZ.offset(3)):
        with Locations((0, 23.5)):
            Rectangle(SKETCH_15_W, SKETCH_15_H)
        with Locations((0, -23.5)):
            Rectangle(SKETCH_15_W, SKETCH_15_H)
        with Locations((-39.5, 0)):
            Rectangle(SKETCH_15_W_2, SKETCH_15_H_2)
        with Locations((39.5, 0)):
            Rectangle(SKETCH_15_W_2, SKETCH_15_H_2)
    extrude(amount=-CUT_EXTRUDE_8_DEPTH, mode=Mode.SUBTRACT)


solid = body_4_1.part
